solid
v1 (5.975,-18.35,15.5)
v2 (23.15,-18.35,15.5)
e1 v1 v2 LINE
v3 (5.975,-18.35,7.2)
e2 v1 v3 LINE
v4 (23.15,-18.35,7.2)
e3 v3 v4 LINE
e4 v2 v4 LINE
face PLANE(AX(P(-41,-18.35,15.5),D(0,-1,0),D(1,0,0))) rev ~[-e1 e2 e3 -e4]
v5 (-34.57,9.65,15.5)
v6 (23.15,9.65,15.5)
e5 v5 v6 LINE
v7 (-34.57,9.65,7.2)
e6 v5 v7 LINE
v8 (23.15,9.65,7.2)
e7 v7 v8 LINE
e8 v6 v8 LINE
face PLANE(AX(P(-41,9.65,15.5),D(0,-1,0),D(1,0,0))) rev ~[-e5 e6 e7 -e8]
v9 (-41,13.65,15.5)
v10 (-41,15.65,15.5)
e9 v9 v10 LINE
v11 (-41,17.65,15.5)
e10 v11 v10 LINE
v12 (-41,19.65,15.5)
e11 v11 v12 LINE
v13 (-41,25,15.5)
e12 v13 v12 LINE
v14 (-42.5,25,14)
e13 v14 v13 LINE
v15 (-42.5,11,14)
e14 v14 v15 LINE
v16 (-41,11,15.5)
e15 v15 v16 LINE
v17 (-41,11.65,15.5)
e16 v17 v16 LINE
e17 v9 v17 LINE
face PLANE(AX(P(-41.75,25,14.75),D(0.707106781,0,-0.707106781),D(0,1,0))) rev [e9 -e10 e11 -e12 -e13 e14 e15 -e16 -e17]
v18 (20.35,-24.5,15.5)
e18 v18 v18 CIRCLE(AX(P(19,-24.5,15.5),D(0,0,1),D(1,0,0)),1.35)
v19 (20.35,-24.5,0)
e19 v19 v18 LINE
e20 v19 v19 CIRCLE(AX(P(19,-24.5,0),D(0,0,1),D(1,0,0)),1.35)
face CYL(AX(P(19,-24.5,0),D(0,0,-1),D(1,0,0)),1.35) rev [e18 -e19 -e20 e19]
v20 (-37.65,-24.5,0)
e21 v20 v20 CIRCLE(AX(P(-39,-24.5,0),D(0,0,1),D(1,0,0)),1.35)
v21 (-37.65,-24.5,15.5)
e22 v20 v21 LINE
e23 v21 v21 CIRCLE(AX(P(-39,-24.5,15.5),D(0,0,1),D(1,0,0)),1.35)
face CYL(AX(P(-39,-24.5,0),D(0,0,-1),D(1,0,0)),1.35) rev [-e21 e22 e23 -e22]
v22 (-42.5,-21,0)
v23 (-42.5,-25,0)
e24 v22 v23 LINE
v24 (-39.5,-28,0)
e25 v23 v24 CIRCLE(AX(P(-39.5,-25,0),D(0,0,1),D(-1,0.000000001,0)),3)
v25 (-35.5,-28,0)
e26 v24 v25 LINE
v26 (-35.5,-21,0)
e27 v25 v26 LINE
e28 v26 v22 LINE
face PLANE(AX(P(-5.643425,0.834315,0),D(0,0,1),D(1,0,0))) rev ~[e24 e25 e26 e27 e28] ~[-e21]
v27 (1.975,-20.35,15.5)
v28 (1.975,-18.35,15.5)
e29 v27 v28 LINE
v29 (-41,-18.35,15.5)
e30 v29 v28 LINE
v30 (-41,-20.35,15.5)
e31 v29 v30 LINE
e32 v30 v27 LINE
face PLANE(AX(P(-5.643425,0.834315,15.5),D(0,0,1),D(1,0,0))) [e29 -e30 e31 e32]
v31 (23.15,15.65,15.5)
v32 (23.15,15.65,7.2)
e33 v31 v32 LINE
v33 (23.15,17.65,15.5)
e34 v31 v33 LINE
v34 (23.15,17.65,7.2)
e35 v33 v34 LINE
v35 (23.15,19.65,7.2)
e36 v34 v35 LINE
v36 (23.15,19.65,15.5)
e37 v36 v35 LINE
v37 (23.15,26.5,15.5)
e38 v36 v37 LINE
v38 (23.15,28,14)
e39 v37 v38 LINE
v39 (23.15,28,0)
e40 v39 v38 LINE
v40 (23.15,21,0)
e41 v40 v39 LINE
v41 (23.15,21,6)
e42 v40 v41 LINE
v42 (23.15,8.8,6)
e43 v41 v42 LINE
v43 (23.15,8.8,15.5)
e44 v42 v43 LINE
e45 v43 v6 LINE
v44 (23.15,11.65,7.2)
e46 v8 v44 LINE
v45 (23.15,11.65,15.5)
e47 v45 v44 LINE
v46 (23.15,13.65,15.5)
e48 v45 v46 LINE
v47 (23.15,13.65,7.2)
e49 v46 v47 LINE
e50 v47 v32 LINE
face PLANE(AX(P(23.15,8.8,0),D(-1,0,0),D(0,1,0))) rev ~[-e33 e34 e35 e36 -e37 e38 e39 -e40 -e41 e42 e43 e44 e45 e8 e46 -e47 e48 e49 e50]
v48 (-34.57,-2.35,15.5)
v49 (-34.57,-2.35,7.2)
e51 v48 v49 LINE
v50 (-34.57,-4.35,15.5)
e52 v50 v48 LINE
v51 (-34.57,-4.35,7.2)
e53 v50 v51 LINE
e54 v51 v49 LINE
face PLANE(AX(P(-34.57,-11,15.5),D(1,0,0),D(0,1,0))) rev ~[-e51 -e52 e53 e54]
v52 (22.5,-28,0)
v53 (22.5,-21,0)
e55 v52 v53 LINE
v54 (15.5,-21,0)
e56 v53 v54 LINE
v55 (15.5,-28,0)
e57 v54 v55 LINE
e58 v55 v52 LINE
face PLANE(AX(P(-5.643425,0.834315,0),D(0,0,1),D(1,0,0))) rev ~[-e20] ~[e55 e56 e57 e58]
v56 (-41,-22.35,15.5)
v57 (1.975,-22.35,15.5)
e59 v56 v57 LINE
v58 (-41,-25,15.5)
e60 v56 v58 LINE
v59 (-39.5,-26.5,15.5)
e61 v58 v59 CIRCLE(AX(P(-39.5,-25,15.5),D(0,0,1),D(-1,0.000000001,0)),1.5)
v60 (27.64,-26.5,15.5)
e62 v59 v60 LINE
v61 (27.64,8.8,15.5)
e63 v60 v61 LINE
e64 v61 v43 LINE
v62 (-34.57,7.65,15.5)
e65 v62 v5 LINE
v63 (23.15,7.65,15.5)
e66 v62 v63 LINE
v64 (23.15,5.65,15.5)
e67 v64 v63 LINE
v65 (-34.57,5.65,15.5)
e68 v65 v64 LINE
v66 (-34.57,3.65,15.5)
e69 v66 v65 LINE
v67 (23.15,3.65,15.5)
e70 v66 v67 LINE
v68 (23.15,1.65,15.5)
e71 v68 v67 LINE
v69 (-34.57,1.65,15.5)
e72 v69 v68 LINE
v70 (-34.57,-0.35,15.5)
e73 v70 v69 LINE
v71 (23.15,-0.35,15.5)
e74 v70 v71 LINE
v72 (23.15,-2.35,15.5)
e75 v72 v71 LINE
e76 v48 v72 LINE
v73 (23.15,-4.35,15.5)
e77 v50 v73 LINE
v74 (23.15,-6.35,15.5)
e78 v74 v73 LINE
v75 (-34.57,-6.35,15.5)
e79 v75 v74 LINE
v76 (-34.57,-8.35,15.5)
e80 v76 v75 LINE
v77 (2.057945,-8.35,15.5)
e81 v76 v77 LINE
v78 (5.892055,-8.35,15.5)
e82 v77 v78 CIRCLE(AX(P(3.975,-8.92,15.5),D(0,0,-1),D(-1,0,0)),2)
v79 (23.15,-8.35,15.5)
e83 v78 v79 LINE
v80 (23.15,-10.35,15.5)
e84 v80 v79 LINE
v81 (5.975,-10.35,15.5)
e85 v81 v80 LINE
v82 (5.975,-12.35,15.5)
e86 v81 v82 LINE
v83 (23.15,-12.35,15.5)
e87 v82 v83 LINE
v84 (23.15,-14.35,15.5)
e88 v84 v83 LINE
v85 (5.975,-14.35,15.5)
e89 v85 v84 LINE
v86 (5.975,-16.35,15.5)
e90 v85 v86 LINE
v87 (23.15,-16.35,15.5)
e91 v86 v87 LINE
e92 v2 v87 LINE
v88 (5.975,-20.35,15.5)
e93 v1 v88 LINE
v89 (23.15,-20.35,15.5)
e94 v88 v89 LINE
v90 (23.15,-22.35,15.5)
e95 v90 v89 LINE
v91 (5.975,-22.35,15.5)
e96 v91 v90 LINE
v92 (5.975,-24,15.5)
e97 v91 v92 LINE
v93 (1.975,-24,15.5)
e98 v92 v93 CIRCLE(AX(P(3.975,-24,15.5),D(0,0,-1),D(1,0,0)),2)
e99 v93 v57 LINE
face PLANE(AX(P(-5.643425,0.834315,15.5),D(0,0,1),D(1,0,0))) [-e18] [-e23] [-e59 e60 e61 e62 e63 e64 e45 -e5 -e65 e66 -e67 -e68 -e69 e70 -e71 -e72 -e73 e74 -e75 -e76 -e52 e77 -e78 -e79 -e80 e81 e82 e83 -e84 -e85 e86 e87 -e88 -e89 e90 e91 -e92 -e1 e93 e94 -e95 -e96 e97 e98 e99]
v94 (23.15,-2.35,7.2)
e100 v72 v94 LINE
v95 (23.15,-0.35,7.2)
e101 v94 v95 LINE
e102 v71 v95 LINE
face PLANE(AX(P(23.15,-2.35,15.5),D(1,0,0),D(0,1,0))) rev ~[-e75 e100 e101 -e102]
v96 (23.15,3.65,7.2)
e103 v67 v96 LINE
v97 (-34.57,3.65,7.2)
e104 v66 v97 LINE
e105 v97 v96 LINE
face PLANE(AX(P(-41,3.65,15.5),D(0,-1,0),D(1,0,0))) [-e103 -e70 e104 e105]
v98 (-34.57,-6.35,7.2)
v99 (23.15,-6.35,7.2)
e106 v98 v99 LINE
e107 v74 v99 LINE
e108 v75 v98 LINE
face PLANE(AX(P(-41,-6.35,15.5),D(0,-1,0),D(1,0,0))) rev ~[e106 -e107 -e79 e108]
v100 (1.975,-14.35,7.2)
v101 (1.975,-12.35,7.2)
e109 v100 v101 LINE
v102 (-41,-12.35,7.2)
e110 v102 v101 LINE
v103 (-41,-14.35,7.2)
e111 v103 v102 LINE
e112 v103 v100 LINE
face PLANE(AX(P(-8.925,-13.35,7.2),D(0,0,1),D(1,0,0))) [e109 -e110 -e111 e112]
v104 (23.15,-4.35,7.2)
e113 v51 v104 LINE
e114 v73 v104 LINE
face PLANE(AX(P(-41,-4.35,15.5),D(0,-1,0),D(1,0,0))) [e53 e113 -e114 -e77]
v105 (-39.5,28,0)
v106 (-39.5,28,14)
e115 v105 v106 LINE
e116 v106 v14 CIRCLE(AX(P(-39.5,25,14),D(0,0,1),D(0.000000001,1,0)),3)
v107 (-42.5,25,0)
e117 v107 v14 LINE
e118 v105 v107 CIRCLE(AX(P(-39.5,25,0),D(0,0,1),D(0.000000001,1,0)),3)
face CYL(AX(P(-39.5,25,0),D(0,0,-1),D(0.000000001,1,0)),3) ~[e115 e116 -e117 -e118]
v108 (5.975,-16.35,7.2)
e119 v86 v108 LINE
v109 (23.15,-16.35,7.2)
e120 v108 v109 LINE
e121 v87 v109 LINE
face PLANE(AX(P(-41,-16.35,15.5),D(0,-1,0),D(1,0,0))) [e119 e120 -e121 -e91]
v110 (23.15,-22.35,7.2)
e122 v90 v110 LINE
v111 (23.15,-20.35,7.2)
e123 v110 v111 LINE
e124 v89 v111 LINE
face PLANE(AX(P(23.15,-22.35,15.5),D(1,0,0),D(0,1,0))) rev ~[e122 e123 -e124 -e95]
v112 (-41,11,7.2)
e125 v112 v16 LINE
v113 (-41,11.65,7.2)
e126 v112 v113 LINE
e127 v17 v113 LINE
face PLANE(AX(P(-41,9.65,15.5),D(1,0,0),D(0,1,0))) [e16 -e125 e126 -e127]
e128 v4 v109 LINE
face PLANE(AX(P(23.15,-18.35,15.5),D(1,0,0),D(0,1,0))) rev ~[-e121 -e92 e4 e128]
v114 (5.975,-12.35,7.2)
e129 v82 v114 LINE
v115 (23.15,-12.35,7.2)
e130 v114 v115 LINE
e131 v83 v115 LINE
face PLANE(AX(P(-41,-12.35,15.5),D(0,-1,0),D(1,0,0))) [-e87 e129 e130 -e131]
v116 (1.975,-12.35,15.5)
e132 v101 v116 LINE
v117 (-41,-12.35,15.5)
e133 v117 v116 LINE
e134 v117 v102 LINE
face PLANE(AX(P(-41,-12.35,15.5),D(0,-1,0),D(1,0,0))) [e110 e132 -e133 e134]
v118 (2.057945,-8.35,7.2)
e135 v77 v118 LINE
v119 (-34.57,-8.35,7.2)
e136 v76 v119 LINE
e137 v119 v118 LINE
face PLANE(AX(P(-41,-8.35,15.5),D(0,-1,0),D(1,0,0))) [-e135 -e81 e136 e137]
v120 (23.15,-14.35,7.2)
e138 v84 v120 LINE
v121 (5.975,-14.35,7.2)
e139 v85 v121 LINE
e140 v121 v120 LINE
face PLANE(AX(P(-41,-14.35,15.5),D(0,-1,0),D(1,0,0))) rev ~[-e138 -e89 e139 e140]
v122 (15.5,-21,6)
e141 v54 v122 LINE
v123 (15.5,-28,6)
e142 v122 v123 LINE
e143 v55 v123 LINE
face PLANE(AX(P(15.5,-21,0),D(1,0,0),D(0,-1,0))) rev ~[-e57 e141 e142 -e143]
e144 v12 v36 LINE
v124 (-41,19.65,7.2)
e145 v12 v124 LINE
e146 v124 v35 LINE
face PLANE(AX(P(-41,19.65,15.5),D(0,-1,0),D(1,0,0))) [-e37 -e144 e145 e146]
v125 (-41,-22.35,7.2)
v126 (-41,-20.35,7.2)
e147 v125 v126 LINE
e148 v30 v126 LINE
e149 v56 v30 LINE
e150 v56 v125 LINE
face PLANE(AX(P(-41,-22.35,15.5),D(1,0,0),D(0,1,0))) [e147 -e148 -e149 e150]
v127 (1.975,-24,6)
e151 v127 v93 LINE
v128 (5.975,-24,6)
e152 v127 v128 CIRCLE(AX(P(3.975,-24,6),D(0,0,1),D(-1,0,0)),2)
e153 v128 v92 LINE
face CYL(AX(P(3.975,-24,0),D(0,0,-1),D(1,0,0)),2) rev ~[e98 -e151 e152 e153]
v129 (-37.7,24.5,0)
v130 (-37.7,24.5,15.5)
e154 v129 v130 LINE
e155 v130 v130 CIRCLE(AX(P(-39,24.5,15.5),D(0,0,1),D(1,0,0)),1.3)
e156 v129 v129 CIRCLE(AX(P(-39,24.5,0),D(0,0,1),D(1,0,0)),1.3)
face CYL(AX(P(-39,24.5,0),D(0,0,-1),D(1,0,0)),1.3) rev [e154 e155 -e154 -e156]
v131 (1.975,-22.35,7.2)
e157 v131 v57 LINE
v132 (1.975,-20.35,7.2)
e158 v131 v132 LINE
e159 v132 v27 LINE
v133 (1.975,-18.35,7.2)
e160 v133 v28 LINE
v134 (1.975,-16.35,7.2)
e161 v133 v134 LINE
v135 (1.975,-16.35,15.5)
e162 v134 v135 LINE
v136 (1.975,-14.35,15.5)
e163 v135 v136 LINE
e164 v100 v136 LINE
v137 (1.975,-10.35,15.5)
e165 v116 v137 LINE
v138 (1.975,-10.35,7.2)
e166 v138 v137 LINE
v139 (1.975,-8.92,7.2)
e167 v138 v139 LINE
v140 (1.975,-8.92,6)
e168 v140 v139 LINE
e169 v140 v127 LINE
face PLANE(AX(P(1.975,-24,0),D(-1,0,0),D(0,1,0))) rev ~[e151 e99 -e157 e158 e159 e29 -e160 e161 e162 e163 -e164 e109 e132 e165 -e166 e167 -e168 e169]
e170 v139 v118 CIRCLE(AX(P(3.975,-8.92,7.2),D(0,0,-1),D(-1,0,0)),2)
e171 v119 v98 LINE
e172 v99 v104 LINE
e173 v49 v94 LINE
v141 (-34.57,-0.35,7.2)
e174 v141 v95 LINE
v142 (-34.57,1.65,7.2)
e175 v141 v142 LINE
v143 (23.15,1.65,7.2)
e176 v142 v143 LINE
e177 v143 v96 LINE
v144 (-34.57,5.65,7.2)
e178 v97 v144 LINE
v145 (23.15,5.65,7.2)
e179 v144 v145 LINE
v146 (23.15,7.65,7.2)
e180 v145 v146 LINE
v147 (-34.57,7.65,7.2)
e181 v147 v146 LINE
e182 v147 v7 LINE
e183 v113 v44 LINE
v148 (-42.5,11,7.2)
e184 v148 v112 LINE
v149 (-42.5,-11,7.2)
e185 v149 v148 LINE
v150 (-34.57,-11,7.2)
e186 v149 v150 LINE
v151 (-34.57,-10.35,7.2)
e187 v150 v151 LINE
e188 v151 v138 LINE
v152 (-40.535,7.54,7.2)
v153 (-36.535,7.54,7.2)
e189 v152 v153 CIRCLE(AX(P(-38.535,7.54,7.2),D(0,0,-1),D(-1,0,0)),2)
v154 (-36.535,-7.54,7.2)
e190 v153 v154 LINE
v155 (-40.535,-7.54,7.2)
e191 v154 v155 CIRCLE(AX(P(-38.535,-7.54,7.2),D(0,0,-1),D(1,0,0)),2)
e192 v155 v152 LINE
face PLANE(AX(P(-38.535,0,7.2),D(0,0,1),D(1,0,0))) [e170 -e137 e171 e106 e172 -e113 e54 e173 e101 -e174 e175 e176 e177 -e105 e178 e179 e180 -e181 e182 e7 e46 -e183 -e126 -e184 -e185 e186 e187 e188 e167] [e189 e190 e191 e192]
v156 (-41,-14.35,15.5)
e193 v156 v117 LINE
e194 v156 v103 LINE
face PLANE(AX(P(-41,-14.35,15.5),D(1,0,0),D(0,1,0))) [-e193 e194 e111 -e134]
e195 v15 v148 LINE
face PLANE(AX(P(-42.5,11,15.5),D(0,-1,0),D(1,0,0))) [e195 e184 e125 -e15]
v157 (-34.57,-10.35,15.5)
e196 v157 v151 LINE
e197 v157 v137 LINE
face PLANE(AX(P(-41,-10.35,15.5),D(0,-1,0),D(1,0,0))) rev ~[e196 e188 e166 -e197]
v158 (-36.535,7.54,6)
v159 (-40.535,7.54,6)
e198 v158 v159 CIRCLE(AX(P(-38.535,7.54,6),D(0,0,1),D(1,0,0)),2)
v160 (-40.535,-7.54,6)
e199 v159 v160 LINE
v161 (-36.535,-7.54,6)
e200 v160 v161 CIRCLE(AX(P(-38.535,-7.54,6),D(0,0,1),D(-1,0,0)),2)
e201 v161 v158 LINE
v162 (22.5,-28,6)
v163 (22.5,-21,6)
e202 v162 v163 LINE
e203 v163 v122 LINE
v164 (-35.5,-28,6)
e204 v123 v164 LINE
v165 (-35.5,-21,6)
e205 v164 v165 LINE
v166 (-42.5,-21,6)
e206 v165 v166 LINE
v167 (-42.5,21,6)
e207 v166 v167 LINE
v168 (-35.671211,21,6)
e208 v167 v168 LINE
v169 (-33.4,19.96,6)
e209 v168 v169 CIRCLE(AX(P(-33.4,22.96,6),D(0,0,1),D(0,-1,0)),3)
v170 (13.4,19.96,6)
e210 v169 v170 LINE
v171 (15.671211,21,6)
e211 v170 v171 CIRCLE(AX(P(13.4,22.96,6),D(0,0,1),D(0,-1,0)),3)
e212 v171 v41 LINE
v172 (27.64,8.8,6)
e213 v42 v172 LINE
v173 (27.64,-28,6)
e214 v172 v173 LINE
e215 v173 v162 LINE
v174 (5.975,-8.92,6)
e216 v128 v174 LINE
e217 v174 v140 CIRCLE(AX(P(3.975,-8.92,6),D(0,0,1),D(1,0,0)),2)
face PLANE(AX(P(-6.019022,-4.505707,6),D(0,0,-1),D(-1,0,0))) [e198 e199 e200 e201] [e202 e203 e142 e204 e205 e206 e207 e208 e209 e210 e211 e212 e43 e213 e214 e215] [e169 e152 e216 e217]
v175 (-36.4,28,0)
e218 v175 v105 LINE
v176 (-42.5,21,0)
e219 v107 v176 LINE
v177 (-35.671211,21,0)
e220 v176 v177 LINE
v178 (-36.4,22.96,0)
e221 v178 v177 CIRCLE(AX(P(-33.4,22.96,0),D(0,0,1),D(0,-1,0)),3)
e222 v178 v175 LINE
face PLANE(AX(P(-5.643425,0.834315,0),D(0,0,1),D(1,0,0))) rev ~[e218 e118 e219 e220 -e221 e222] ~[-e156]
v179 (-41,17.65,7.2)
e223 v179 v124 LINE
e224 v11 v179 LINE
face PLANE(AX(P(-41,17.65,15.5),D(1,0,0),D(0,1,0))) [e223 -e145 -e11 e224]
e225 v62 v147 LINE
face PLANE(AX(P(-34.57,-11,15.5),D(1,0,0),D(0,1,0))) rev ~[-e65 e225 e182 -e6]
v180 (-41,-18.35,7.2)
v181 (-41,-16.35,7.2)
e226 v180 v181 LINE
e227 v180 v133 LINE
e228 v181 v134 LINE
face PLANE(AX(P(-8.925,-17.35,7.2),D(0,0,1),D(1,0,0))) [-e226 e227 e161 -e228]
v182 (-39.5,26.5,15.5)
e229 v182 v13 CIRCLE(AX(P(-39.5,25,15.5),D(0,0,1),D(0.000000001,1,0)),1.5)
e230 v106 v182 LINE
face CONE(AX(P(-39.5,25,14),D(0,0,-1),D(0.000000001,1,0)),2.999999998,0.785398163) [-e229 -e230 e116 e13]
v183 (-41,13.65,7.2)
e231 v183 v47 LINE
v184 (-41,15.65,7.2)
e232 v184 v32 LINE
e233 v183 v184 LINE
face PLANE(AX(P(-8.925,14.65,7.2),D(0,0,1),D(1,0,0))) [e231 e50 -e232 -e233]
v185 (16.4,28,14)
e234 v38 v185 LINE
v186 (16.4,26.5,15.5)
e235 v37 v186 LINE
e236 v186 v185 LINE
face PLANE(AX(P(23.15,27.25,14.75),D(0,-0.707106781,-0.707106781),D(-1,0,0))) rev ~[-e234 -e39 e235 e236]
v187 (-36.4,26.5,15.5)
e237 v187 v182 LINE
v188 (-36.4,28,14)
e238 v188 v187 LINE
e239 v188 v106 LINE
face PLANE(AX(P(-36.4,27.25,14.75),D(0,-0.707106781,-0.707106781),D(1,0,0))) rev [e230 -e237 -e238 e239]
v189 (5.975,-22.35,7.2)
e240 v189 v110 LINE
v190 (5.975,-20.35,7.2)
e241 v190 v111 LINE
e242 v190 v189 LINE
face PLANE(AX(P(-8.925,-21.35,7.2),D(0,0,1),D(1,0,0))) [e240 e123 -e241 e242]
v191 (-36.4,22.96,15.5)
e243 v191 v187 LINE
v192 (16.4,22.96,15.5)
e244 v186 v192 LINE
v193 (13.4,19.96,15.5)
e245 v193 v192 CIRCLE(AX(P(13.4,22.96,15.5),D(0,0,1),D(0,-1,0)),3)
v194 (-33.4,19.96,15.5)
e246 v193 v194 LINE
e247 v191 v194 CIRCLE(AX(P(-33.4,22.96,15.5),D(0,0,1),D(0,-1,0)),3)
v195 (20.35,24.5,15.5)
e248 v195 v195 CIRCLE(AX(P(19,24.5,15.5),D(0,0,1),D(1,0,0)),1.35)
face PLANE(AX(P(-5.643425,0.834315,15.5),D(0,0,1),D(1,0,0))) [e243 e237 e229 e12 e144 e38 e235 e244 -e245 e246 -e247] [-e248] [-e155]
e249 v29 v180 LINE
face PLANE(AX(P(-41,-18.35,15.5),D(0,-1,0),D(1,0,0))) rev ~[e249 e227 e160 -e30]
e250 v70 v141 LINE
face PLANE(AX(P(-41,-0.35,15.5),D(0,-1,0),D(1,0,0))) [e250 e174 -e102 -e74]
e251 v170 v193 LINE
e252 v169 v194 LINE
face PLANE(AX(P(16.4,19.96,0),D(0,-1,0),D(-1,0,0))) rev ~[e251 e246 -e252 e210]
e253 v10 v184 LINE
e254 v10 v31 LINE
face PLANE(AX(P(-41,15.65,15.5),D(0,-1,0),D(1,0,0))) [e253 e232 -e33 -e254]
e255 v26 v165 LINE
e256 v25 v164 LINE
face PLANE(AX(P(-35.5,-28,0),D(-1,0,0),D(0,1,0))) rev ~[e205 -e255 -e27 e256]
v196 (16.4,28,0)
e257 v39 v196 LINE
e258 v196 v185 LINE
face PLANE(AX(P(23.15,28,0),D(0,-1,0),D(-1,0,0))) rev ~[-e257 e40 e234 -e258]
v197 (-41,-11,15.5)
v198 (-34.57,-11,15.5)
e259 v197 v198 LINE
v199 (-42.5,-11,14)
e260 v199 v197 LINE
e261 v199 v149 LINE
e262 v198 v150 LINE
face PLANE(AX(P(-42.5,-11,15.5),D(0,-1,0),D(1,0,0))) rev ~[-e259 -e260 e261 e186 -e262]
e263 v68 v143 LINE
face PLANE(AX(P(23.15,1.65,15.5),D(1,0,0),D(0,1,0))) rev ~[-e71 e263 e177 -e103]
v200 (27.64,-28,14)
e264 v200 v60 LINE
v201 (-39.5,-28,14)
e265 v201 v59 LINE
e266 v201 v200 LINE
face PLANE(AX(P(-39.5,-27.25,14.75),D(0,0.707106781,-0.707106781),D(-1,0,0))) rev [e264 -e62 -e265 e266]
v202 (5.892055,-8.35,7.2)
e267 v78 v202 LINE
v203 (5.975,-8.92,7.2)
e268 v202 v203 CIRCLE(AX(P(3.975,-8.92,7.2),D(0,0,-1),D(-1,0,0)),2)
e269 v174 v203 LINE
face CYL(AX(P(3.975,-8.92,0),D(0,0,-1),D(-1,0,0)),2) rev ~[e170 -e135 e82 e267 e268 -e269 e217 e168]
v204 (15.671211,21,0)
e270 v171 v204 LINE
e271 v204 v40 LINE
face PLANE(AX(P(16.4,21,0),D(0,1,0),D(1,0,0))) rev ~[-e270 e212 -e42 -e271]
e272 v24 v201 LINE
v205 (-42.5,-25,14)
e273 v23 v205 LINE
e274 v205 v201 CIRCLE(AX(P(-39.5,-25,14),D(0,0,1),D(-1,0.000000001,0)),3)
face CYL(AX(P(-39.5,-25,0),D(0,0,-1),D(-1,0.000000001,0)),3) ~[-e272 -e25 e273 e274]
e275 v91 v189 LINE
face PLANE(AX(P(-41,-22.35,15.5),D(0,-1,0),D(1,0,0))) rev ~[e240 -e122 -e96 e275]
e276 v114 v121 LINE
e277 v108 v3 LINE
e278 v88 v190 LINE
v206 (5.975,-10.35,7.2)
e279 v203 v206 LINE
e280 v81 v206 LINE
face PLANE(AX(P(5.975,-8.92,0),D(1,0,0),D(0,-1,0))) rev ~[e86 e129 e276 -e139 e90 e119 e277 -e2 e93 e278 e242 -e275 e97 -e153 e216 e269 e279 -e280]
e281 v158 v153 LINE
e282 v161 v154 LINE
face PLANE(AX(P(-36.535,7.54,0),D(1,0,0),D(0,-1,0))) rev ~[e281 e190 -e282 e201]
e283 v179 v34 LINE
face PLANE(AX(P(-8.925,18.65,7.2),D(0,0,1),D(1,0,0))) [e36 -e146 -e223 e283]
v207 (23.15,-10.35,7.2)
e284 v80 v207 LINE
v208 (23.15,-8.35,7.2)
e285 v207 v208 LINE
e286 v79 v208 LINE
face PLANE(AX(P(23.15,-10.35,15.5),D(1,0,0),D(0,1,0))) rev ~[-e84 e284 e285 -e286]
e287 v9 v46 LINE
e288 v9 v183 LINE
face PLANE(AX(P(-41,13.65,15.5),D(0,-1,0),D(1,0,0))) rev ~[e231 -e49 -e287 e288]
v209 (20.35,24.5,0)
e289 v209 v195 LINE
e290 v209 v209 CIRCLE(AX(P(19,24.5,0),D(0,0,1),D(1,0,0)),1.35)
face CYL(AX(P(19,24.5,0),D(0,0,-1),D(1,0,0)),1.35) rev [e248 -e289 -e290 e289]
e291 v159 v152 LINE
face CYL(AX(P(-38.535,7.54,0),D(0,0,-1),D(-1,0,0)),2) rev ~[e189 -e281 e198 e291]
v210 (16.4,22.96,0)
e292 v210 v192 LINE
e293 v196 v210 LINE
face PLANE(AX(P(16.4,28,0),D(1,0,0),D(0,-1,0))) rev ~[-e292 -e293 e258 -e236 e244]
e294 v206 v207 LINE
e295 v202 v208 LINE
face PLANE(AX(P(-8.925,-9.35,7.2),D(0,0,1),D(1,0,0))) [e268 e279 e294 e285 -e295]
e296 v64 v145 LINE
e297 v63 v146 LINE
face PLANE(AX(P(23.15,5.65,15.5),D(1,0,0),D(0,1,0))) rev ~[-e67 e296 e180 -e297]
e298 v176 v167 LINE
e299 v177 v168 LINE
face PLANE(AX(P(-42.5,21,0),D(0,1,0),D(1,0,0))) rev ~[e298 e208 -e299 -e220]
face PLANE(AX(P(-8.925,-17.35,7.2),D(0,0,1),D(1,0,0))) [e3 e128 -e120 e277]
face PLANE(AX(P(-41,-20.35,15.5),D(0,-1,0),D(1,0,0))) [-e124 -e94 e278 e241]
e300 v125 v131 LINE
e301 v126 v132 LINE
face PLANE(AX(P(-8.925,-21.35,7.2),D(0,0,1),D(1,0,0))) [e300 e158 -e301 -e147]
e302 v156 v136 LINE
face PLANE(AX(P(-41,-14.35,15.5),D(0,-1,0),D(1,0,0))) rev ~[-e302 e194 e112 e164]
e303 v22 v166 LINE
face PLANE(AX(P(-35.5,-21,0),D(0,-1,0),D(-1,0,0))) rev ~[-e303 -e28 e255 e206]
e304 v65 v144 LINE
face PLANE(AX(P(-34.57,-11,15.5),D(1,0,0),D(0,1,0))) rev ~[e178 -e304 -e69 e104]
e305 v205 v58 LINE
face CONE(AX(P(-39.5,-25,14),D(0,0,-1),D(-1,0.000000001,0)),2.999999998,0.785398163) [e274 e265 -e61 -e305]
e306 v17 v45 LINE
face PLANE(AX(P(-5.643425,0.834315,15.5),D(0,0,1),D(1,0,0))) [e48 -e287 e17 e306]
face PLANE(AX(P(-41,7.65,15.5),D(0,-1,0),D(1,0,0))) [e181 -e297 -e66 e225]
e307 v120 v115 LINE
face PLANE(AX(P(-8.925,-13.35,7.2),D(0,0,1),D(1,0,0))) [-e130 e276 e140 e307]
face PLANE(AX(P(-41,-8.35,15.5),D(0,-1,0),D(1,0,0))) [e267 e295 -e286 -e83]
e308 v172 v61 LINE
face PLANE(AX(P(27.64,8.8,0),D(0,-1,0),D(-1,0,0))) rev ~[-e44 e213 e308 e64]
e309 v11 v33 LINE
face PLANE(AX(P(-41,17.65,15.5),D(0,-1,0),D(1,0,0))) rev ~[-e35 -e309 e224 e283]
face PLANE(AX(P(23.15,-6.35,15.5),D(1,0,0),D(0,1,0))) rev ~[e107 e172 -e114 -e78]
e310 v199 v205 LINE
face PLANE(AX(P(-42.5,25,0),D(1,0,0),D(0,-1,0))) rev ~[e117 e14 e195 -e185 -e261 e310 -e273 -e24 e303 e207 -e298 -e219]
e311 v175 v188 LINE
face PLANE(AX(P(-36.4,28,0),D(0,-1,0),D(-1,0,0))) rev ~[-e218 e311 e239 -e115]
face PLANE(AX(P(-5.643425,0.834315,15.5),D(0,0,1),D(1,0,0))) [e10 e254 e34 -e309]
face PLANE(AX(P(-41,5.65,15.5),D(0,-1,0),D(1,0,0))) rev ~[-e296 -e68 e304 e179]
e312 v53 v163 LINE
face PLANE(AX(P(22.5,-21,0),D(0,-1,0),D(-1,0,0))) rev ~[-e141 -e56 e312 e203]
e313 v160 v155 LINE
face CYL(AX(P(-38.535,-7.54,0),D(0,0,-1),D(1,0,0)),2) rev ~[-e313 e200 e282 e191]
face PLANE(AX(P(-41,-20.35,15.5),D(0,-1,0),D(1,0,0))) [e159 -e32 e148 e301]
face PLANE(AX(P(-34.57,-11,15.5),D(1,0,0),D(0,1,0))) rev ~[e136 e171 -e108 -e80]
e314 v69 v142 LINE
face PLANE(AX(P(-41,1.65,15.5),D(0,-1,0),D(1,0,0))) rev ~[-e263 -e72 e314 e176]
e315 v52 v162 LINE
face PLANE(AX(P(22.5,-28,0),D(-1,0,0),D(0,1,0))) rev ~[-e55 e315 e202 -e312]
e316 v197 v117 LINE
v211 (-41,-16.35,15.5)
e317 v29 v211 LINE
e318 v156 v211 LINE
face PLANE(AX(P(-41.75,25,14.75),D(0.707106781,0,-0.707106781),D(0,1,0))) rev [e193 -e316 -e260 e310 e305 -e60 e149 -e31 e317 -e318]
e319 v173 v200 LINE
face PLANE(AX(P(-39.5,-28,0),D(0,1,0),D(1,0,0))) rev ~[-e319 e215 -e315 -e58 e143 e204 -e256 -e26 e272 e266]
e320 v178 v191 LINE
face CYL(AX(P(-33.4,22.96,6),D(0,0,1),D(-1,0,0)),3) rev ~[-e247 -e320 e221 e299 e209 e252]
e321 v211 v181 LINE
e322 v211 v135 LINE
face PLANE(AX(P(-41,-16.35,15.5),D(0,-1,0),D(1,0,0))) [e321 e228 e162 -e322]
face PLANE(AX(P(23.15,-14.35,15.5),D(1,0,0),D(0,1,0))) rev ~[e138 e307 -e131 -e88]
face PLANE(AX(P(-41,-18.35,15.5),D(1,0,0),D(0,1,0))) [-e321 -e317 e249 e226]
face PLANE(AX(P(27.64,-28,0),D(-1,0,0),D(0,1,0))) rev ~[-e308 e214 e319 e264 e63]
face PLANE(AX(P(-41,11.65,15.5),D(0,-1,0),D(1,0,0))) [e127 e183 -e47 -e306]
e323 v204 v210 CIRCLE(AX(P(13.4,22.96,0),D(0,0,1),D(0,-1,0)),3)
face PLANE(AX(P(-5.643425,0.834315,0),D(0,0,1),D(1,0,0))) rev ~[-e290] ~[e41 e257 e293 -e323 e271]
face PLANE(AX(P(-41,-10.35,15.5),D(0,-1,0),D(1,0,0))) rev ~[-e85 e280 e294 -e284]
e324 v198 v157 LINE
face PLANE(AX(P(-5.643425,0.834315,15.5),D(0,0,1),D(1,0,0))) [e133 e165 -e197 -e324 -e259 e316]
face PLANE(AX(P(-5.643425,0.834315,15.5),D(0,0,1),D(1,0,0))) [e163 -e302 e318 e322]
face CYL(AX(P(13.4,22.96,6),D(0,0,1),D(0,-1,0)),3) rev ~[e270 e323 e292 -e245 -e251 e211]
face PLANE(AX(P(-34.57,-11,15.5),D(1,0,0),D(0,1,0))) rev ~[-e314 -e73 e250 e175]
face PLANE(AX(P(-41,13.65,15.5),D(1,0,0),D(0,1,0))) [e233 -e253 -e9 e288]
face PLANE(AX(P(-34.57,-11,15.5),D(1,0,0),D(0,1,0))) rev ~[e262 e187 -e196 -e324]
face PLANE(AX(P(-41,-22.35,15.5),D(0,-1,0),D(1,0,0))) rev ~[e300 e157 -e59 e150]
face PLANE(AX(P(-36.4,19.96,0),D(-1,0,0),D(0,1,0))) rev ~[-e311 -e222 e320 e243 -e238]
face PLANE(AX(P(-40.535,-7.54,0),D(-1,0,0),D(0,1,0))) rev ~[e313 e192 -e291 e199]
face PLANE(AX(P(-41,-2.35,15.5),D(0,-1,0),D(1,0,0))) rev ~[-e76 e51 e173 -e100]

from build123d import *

# Parameters (mm, degrees)
SKETCH1_R           = 1.35
SKETCH1_R_2         = 1.3
BOSS_EXTRUDE1_DEPTH = 15.5
CUT_EXTRUDE1_DEPTH  = 6
FILLET1_R           = 3
CHAMFER1_SIZE       = 1.5
SKETCH3_W           = 7.93
SKETCH3_H           = 22
CUT_EXTRUDE2_DEPTH  = 8.3
SKETCH4_W           = 64.15
SKETCH4_H           = 2
CUT_EXTRUDE3_DEPTH  = 8.3


with BuildPart() as part:
    # Sketch1 → Boss-Extrude1 (new body)
    with BuildSketch(Plane.XY):
        with BuildLine():
            Line((-36.4, 19.96), (-36.4, 28))
            Line((-36.4, 28), (-39.5, 28))
            ThreePointArc((-39.5, 28), (-41.621320344, 27.121320344), (-42.5, 25))
            Line((-42.5, 25), (-42.5, -25))
            ThreePointArc((-42.5, -25), (-41.621320344, -27.121320344), (-39.5, -28))
            Line((-39.5, -28), (27.64, -28))
            Line((27.64, -28), (27.64, 8.8))
            Line((27.64, 8.8), (23.15, 8.8))
            Line((23.15, 8.8), (23.15, 28))
            Line((23.15, 28), (16.4, 28))
            Line((16.4, 28), (16.4, 21.51))
            Line((16.4, 21.51), (22.004438923, 21.51))
            Line((22.004438923, 21.51), (22.004438923, 15.51))
            Line((22.004438923, 15.51), (16.004438923, 15.51))
            Line((16.004438923, 15.51), (16.004438923, 19.96))
            Line((16.004438923, 19.96), (-36.4, 19.96))
        make_face()
        with Locations((-39, -24.5)):
            Circle(SKETCH1_R, mode=Mode.SUBTRACT)
        with Locations((19, -24.5)):
            Circle(SKETCH1_R, mode=Mode.SUBTRACT)
        with BuildLine():
            ThreePointArc((1.975, -8.92), (3.975, -6.92), (5.975, -8.92))
            Line((5.975, -8.92), (5.975, -24))
            ThreePointArc((5.975, -24), (3.975, -26), (1.975, -24))
            Line((1.975, -24), (1.975, -8.92))
        make_face(mode=Mode.SUBTRACT)
        with BuildLine():
            ThreePointArc((-40.535, 7.54), (-38.535, 9.54), (-36.535, 7.54))
            Line((-36.535, 7.54), (-36.535, -7.54))
            ThreePointArc((-36.535, -7.54), (-38.535, -9.54), (-40.535, -7.54))
            Line((-40.535, -7.54), (-40.535, 7.54))
        make_face(mode=Mode.SUBTRACT)
        with Locations((-39, 24.5)):
            Circle(SKETCH1_R_2, mode=Mode.SUBTRACT)
        with Locations((19, 24.5)):
            Circle(SKETCH1_R, mode=Mode.SUBTRACT)
        Polygon((22.004438923, 21.51), (16.4, 21.51), (16.4, 19.96), (16.004438923, 19.96), (16.004438923, 15.51), (22.004438923, 15.51), align=None)
    extrude(amount=BOSS_EXTRUDE1_DEPTH)

    # Sketch2 → Cut-Extrude1 (cut)
    with BuildSketch(Plane(origin=(0, 0, 0), x_dir=(-1, 0, 0), z_dir=(0, 0, -1))):
        Polygon((-16.4, 19.96), (-16.4, 21), (-23.15, 21), (-23.15, 8.8), (-27.64, 8.8), (-27.64, -28), (-22.5, -28), (-22.5, -21), (-15.5, -21), (-15.5, -28), (35.5, -28), (35.5, -21), (42.5, -21), (42.5, 21), (36.4, 21), (36.4, 19.96), align=None)
        with BuildLine():
            Line((-1.975, -8.92), (-1.975, -24))
            ThreePointArc((-1.975, -24), (-3.975, -26), (-5.975, -24))
            Line((-5.975, -24), (-5.975, -8.92))
            ThreePointArc((-5.975, -8.92), (-3.975, -6.92), (-1.975, -8.92))
        make_face(mode=Mode.SUBTRACT)
        with BuildLine():
            Line((40.535, 7.54), (40.535, -7.54))
            ThreePointArc((40.535, -7.54), (38.535, -9.54), (36.535, -7.54))
            Line((36.535, -7.54), (36.535, 7.54))
            ThreePointArc((36.535, 7.54), (38.535, 9.54), (40.535, 7.54))
        make_face(mode=Mode.SUBTRACT)
    extrude(amount=-CUT_EXTRUDE1_DEPTH, mode=Mode.SUBTRACT)

    # Fillet1
    fillet1_edges = [part.edges().sort_by_distance(p)[0] for p in [
        (-36.4, 19.96, 10.75),
        (16.4, 19.96, 10.75),
    ]]
    fillet(fillet1_edges, radius=FILLET1_R)

    # Chamfer1
    chamfer1_edges = [part.edges().sort_by_distance(p)[0] for p in [
        (-37.95, 28, 15.5),
        (-41.621320344, 27.121320344, 15.5),
        (-42.5, 0, 15.5),
        (-41.621320344, -27.121320344, 15.5),
        (-5.93, -28, 15.5),
        (19.775, 28, 15.5),
    ]]
    chamfer(chamfer1_edges, length=CHAMFER1_SIZE)

    # Sketch3 → Cut-Extrude2 (cut)
    with BuildSketch(Plane.XY.offset(15.5)):
        with Locations((-38.535, 0)):
            Rectangle(SKETCH3_W, SKETCH3_H)
    extrude(amount=-CUT_EXTRUDE2_DEPTH, mode=Mode.SUBTRACT)

    # Sketch4 → Cut-Extrude3 (cut)
    with BuildSketch(Plane.XY.offset(15.5)):
        with Locations((-8.925, 18.65)):
            Rectangle(SKETCH4_W, SKETCH4_H)
        with Locations((-8.925, 14.65)):
            Rectangle(SKETCH4_W, SKETCH4_H)
        with Locations((-8.925, 10.65)):
            Rectangle(SKETCH4_W, SKETCH4_H)
        with Locations((-8.925, 6.65)):
            Rectangle(SKETCH4_W, SKETCH4_H)
        with Locations((-8.925, 2.65)):
            Rectangle(SKETCH4_W, SKETCH4_H)
        with Locations((-8.925, -1.35)):
            Rectangle(SKETCH4_W, SKETCH4_H)
        with Locations((-8.925, -5.35)):
            Rectangle(SKETCH4_W, SKETCH4_H)
        with Locations((-8.925, -9.35)):
            Rectangle(SKETCH4_W, SKETCH4_H)
        with Locations((-8.925, -13.35)):
            Rectangle(SKETCH4_W, SKETCH4_H)
        with Locations((-8.925, -17.35)):
            Rectangle(SKETCH4_W, SKETCH4_H)
        with Locations((-8.925, -21.35)):
            Rectangle(SKETCH4_W, SKETCH4_H)
    extrude(amount=-CUT_EXTRUDE3_DEPTH, mode=Mode.SUBTRACT)


solid = part.part
